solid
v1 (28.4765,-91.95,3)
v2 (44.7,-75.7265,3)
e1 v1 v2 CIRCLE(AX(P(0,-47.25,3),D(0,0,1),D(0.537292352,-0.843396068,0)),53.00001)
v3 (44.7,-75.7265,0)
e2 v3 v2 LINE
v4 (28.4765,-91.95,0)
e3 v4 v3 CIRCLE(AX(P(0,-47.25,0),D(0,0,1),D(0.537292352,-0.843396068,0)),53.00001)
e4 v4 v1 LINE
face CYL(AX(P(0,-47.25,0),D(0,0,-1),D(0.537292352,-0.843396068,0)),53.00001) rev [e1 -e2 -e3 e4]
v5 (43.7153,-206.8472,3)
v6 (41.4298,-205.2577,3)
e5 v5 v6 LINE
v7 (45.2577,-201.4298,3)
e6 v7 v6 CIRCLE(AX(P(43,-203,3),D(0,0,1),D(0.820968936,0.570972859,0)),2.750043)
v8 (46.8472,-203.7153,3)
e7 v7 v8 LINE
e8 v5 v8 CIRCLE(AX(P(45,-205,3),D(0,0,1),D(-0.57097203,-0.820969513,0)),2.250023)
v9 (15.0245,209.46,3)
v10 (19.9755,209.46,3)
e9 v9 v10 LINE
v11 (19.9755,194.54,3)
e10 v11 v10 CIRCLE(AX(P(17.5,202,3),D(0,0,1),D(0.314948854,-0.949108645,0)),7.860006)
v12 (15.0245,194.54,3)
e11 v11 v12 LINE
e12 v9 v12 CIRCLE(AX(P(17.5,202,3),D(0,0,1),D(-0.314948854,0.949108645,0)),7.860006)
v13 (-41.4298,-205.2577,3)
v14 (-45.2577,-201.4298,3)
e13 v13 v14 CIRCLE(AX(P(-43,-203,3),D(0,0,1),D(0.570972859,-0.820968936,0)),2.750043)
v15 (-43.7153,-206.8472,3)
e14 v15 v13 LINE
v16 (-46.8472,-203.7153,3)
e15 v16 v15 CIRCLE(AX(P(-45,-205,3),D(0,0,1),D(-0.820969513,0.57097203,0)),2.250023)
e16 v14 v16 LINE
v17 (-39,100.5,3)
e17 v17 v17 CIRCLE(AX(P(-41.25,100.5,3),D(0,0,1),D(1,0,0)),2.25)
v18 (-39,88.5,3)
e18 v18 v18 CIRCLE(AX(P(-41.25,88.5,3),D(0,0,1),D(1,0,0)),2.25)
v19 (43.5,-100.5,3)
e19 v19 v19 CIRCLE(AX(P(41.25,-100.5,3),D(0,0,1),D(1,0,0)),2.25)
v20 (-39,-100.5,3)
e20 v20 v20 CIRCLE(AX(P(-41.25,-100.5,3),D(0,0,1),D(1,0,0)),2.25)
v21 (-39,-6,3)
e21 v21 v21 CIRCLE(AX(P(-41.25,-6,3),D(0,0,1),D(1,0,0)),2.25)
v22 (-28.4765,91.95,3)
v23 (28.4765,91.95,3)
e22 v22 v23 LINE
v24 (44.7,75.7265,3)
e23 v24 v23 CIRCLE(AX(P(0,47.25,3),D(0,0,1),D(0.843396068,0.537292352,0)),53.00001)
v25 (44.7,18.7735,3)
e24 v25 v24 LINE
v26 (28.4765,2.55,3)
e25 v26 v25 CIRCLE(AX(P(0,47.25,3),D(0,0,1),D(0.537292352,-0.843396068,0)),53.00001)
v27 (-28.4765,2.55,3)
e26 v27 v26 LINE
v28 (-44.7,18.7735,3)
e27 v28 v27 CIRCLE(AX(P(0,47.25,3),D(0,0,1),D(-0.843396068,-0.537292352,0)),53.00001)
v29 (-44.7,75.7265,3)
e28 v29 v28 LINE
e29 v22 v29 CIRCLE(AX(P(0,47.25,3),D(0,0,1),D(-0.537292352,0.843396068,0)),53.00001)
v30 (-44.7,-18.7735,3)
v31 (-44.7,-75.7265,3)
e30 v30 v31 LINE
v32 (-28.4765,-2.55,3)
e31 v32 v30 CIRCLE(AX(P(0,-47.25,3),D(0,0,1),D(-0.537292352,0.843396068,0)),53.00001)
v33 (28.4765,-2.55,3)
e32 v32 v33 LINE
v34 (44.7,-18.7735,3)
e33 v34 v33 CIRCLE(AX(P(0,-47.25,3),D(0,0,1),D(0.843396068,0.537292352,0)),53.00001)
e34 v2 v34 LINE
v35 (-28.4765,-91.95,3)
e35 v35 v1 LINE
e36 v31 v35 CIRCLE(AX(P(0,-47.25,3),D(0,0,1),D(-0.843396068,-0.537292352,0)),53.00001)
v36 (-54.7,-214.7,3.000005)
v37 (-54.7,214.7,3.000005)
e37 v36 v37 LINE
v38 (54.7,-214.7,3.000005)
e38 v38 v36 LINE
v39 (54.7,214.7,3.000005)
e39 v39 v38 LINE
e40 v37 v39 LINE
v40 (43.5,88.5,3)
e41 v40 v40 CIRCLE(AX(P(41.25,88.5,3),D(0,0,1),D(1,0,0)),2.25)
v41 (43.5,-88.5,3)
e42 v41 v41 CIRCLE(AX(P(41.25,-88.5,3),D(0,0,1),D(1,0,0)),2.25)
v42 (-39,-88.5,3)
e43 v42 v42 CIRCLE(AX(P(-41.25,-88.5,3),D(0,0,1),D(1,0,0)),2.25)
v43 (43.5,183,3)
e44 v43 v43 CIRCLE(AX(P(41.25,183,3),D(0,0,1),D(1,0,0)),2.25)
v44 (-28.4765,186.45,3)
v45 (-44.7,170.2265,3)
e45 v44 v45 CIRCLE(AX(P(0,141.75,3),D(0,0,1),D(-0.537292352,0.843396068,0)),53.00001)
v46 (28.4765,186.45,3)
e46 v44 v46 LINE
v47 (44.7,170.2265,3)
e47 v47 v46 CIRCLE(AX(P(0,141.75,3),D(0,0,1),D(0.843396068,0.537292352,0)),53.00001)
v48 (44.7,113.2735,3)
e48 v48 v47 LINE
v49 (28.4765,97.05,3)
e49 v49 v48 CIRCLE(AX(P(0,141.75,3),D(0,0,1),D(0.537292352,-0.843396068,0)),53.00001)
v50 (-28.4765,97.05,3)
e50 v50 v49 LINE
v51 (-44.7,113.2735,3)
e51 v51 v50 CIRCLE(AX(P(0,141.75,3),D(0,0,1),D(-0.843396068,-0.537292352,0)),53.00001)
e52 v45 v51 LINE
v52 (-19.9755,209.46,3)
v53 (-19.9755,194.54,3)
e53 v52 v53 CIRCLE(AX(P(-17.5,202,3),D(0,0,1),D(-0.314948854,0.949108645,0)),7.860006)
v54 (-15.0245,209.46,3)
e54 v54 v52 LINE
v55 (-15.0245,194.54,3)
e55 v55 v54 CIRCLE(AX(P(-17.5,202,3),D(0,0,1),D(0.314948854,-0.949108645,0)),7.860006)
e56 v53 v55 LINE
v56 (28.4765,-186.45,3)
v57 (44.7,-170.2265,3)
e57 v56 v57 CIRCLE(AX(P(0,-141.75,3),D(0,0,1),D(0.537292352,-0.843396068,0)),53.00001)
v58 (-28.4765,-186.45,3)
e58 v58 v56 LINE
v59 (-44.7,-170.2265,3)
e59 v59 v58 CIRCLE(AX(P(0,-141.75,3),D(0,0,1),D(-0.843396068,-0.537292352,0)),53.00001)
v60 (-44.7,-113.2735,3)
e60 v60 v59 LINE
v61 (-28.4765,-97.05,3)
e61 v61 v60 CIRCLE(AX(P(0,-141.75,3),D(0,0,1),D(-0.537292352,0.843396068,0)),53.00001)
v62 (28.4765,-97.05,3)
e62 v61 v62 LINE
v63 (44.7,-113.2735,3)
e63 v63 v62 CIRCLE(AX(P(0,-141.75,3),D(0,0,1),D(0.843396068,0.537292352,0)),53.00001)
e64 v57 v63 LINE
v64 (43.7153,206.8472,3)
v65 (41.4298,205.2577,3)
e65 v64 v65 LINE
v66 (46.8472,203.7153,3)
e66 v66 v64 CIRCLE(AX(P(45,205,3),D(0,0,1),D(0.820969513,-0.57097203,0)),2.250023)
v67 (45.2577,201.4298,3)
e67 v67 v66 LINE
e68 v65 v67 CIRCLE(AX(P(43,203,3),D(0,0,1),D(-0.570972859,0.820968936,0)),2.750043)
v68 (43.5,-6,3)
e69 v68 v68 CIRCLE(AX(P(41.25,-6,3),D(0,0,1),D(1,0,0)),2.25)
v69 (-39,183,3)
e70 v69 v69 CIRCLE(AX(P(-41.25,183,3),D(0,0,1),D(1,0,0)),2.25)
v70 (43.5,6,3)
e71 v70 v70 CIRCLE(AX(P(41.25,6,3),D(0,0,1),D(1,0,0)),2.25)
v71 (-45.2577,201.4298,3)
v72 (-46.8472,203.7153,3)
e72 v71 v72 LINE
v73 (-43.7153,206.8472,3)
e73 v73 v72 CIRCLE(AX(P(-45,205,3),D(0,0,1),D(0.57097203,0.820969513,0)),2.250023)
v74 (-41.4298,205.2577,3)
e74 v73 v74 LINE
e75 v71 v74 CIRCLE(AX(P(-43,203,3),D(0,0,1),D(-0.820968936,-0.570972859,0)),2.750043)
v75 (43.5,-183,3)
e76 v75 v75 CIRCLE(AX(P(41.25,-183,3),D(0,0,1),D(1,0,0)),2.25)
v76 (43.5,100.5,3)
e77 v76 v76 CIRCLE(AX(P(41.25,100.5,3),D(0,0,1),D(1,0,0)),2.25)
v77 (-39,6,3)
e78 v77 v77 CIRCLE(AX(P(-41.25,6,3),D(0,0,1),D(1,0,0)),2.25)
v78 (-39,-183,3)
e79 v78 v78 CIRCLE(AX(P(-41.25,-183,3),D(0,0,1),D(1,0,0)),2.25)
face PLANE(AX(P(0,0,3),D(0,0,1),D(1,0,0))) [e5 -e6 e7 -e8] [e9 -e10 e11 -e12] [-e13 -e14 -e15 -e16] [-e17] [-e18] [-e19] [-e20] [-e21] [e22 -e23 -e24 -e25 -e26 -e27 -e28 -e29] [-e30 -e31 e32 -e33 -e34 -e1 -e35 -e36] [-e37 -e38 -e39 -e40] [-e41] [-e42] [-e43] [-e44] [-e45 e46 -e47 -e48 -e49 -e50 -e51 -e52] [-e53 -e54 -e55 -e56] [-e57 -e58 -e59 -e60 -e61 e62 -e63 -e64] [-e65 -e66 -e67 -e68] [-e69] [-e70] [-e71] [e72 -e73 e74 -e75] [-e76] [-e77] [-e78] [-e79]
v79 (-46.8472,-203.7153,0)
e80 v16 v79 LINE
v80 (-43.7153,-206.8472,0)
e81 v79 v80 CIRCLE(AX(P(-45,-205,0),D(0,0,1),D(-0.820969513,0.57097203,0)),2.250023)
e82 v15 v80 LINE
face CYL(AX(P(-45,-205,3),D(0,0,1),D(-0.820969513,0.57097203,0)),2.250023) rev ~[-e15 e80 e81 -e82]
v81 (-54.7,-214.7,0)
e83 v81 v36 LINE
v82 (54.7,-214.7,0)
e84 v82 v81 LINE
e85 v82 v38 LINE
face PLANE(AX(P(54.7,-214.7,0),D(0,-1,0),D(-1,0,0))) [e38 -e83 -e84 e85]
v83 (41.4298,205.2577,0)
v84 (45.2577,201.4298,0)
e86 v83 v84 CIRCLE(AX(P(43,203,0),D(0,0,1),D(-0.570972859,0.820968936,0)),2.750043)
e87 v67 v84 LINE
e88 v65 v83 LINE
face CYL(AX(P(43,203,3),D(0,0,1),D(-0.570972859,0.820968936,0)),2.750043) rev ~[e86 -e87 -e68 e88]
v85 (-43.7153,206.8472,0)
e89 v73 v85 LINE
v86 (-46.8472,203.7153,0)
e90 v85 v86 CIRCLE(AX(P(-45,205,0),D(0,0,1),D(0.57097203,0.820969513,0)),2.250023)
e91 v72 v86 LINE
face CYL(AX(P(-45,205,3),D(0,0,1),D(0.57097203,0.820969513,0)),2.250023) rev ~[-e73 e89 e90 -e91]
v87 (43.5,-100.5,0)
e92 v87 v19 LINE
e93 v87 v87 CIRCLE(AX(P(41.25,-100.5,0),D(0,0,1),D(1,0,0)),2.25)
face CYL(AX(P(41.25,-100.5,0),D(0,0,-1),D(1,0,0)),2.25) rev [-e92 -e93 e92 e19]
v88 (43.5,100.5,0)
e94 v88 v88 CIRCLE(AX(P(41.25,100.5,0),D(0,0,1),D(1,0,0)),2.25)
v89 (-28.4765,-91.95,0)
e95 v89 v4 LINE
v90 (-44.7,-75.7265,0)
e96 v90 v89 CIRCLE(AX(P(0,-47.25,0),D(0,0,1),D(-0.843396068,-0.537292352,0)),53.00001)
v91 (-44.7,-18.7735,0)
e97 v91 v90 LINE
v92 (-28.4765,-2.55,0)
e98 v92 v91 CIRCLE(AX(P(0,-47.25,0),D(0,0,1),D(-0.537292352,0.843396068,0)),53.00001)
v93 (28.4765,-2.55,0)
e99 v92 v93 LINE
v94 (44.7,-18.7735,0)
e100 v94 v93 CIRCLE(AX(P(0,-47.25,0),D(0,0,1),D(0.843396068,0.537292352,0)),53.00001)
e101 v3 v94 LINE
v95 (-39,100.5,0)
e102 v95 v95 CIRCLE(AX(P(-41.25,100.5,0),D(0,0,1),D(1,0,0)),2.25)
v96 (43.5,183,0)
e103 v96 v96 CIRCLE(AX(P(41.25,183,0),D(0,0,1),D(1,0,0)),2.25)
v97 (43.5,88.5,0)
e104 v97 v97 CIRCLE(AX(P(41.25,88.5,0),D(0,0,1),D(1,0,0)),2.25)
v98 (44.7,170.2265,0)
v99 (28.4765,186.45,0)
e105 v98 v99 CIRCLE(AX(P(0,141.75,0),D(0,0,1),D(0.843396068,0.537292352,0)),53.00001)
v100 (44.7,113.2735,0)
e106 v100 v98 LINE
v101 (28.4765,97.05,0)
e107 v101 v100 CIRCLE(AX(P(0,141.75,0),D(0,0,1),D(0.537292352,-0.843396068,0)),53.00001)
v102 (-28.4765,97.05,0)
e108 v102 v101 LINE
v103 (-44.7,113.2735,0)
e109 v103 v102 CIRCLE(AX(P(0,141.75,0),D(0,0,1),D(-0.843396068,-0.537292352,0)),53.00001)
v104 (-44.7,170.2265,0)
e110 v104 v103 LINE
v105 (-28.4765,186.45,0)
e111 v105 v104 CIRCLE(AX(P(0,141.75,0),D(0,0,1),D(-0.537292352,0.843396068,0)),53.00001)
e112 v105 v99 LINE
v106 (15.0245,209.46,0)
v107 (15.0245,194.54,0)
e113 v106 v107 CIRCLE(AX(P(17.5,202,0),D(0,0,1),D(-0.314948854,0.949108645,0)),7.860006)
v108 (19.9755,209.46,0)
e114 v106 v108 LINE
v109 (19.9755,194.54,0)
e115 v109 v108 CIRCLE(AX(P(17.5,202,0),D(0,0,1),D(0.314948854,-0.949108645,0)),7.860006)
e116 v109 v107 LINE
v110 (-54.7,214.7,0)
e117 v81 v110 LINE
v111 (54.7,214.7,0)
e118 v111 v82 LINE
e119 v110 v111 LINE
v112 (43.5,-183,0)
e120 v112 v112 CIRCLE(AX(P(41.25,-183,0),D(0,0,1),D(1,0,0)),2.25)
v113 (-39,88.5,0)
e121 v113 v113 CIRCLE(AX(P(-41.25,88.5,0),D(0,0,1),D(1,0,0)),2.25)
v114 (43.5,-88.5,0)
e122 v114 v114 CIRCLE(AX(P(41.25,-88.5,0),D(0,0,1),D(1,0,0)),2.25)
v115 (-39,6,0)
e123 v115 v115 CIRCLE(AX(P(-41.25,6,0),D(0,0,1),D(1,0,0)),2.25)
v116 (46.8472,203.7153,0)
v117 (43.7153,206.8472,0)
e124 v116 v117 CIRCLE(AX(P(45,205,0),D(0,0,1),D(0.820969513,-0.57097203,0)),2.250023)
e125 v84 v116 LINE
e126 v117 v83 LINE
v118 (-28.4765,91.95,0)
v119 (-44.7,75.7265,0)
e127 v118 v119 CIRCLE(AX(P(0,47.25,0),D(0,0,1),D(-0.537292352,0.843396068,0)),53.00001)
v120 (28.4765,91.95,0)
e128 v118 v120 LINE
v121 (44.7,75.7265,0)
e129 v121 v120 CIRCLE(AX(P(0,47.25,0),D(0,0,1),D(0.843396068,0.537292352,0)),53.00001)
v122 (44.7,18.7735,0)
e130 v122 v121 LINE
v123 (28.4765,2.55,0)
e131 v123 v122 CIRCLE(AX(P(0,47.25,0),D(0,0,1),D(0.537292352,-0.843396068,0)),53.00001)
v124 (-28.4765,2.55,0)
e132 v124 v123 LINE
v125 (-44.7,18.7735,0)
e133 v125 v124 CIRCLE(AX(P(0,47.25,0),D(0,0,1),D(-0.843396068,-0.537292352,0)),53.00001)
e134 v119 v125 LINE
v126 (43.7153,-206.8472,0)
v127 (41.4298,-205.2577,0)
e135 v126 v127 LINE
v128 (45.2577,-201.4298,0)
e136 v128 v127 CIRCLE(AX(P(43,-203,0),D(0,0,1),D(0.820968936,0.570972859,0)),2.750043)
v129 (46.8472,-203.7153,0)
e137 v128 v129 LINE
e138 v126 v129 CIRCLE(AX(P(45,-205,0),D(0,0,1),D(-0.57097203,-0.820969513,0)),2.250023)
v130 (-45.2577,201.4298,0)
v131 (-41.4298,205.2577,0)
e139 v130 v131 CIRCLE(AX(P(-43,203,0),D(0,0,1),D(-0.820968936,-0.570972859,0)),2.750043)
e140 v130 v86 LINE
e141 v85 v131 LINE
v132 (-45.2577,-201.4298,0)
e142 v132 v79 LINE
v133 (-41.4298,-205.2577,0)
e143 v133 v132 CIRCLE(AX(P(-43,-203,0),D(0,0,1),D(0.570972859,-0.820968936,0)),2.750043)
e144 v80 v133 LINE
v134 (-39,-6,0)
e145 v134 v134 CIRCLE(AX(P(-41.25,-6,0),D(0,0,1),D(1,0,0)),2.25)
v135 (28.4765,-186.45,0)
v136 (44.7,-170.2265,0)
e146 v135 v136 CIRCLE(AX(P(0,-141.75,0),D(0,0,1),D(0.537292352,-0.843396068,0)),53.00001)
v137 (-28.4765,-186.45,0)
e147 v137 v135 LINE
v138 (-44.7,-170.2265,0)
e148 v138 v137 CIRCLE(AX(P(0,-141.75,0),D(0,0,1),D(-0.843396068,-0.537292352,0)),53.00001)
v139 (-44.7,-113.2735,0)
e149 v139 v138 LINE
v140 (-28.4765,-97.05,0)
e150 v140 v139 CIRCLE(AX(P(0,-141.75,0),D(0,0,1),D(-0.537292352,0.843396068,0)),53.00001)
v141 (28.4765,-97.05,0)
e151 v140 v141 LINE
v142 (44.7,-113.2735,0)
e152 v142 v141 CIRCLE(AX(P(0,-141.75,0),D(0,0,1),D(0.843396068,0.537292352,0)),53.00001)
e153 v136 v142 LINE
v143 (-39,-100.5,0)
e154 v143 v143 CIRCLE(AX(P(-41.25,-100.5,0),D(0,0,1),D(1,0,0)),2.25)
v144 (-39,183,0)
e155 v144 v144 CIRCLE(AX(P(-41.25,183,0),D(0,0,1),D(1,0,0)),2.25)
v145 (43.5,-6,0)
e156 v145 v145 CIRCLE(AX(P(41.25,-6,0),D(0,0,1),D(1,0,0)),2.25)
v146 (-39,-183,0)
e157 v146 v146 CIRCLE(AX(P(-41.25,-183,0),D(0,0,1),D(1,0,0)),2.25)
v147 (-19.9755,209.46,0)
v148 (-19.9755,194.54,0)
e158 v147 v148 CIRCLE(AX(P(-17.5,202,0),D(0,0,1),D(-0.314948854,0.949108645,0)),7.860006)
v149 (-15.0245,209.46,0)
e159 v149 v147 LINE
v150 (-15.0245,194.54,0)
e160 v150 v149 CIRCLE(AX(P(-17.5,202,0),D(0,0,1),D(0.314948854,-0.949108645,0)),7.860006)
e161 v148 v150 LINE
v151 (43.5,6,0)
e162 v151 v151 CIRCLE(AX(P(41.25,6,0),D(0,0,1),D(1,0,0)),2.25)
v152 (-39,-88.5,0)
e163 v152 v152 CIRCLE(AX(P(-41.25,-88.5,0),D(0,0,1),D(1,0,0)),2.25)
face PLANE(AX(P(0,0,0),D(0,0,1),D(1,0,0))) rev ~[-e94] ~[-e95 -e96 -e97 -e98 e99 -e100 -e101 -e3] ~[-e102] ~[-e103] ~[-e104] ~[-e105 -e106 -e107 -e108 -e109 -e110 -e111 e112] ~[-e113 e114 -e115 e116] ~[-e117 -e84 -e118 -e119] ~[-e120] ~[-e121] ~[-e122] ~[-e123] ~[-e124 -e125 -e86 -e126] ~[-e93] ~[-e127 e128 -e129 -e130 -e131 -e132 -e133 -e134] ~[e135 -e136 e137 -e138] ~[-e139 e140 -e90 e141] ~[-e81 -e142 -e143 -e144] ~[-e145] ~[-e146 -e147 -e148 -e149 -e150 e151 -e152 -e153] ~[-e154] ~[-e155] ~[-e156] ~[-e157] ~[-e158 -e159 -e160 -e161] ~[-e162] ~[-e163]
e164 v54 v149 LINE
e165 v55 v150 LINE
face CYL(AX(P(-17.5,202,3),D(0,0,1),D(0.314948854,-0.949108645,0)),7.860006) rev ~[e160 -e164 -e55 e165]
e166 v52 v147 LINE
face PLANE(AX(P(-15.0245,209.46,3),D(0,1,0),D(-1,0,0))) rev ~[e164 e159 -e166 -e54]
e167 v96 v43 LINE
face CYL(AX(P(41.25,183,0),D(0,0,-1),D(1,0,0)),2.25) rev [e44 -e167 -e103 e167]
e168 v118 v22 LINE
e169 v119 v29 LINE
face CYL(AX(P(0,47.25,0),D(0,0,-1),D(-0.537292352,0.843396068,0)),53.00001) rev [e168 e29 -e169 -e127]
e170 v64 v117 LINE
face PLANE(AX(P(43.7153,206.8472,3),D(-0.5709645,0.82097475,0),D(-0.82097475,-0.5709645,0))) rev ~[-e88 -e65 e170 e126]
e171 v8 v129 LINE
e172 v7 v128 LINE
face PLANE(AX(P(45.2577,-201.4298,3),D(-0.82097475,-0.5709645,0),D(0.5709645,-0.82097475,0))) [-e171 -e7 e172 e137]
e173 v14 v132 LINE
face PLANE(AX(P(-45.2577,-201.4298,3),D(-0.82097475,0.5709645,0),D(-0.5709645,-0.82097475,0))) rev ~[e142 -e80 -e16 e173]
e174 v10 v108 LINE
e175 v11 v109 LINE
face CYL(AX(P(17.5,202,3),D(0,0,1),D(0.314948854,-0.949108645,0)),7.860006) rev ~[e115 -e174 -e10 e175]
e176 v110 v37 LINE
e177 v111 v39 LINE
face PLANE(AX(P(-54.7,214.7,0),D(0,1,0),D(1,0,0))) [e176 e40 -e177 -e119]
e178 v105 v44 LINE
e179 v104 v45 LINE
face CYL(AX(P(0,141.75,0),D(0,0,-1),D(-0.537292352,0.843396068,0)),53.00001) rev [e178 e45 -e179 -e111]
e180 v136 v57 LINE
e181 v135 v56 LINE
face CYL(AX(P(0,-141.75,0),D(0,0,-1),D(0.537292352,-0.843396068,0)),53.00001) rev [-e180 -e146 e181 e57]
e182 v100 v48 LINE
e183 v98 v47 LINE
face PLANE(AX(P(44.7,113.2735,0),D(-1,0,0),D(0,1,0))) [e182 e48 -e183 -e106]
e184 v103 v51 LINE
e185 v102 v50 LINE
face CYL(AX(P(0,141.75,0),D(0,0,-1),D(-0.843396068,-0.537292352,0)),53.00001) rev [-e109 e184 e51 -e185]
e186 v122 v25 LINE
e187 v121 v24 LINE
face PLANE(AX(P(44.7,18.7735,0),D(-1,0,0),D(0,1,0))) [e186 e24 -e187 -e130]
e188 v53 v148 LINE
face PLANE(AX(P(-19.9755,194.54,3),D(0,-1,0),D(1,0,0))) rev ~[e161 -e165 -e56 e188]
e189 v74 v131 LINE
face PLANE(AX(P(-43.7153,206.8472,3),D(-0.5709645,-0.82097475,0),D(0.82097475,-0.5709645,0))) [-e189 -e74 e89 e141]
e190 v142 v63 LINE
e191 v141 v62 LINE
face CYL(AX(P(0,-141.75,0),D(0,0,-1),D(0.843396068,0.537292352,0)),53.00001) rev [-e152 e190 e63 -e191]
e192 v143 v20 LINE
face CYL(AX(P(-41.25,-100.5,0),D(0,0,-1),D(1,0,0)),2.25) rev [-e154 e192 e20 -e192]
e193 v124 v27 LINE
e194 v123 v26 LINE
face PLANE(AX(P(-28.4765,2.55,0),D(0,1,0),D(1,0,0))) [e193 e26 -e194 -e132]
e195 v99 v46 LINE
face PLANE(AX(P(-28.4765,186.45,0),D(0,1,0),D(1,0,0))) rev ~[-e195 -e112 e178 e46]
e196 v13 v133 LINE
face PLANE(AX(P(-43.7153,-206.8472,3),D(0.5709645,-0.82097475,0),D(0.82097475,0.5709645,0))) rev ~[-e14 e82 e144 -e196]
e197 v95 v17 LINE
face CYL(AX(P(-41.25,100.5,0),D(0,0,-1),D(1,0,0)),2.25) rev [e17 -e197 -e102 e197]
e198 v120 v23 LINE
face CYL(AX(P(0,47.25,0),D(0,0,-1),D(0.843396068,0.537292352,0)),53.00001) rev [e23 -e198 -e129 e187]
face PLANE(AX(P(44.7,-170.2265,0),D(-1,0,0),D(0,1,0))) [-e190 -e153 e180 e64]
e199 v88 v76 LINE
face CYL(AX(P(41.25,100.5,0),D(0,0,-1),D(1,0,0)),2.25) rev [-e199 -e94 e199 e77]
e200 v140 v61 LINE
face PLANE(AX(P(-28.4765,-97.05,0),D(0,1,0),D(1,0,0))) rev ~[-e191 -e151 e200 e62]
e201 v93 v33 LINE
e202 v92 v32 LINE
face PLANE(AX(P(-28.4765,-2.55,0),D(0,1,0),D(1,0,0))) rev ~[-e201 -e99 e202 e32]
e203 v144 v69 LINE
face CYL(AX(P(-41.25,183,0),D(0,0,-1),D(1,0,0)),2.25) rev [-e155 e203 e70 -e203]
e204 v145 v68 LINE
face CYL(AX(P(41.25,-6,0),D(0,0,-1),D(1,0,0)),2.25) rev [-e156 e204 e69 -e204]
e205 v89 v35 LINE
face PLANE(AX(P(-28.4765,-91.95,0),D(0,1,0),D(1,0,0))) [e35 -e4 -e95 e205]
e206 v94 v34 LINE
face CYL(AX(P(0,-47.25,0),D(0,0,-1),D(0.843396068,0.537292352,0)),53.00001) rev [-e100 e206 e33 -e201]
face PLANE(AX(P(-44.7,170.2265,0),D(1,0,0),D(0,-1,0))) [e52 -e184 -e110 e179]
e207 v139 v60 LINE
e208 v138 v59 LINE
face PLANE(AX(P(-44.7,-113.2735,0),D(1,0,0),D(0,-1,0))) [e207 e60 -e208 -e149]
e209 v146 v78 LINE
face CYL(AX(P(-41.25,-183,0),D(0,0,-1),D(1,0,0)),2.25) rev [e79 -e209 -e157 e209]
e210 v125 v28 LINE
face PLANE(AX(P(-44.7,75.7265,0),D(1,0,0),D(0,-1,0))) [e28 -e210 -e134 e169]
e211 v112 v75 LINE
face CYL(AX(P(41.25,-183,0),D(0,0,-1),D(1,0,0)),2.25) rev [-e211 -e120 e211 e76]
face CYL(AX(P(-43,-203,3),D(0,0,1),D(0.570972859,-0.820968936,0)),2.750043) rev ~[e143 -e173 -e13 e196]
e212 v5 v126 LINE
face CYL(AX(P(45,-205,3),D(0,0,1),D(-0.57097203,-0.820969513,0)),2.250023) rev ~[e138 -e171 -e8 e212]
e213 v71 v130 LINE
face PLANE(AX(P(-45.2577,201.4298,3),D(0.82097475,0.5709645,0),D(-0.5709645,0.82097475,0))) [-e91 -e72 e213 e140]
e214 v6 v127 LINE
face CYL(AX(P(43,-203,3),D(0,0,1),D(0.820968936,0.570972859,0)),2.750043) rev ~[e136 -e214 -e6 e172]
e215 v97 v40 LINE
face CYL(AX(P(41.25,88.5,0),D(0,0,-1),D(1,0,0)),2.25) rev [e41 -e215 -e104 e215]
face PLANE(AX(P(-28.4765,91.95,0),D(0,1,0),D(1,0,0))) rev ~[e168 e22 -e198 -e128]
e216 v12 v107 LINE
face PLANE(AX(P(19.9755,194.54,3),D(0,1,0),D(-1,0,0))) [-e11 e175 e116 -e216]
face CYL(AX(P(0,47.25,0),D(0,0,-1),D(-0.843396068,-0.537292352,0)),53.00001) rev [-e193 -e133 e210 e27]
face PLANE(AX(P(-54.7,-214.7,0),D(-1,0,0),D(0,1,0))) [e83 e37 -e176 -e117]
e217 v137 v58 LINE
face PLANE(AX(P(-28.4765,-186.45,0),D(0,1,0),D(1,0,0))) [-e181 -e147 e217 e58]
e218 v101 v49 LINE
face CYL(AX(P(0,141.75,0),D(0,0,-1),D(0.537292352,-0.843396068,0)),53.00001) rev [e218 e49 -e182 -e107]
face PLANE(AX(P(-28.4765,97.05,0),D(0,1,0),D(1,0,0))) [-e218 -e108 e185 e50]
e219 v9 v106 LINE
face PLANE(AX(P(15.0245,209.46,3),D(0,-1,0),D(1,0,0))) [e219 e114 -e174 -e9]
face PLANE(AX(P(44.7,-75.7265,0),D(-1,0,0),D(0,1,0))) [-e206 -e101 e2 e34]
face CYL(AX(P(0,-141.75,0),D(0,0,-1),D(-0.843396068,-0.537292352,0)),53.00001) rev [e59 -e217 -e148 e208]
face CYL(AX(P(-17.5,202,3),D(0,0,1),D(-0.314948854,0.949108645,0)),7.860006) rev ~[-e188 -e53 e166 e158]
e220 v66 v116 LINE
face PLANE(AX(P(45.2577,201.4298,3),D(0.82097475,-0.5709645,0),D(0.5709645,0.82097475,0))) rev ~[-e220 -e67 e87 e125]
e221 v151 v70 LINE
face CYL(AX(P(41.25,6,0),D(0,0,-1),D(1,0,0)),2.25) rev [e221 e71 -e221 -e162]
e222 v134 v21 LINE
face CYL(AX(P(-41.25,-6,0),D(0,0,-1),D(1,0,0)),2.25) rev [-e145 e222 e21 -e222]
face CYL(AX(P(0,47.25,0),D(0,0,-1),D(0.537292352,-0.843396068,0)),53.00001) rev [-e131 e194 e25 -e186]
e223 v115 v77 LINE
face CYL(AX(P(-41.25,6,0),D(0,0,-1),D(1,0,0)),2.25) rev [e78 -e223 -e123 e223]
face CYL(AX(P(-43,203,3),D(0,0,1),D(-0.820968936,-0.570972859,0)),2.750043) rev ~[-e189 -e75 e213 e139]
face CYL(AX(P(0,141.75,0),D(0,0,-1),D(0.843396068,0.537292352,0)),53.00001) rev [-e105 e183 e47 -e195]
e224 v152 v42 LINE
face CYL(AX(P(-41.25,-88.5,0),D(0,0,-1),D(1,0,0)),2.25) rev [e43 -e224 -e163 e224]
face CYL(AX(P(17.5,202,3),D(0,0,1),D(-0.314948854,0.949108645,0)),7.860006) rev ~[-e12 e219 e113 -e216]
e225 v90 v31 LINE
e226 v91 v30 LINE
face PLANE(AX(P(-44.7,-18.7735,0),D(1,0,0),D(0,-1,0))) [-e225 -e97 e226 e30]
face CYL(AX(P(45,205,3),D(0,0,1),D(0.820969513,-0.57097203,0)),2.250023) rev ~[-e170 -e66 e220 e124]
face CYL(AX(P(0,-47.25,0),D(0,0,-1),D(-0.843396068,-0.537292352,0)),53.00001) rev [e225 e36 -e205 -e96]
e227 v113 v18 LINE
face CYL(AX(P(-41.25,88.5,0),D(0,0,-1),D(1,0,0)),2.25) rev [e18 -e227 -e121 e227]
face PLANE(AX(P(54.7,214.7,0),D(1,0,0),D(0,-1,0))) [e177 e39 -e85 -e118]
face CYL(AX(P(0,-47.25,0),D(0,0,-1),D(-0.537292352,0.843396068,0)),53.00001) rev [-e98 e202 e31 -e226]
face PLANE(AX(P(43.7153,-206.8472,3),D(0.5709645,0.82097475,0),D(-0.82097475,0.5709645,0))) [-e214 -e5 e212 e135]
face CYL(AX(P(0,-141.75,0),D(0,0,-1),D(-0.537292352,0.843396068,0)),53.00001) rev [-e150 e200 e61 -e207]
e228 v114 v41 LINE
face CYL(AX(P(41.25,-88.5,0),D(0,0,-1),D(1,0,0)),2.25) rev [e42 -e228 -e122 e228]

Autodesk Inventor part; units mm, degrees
ref_plane "YZ Plane" through (0, 0, 0) normal (1, 0, 0) x (0, 1, 0)
ref_plane "XZ Plane" through (0, 0, 0) normal (0, 1, 0) x (-1, 0, 0)
ref_plane "XY Plane" through (0, 0, 0) normal (0, 0, 1) x (1, 0, 0)
sketch "スケッチ1" plane through (0, 0, 0) normal (0, 0, 1) x (1, 0, 0)
  line L0 (-55, -215) -> (55, -215)
  line L1 (55, -215) -> (55, 215)
  line L2 (55, 215) -> (-55, 215)
  line L3 (-55, 215) -> (-55, -215)
  line L4 (-55, -215) -> (55, 215) construction
  line L5 (55, -215) -> (-55, 215) construction
  line L6 (-55, 185) -> (-50, 185) construction
  line L7 (-50, 185) -> (-25, 210) construction
  line L8 (-25, 210) -> (-25, 215) construction
  line L9 (-46, 95.75) -> (46, 95.75) construction
  line L10 (46, 95.75) -> (46, 187.75) construction
  line L11 (46, 187.75) -> (-46, 187.75) construction
  line L12 (-46, 187.75) -> (-46, 95.75) construction
  line L13 (-46, 95.75) -> (46, 187.75) construction
  line L14 (46, 95.75) -> (-46, 187.75) construction
  line L15 (-46, 1.25) -> (46, 1.25) construction
  line L16 (46, 1.25) -> (46, 93.25) construction
  line L17 (46, 93.25) -> (-46, 93.25) construction
  line L18 (-46, 93.25) -> (-46, 1.25) construction
  line L19 (-46, 1.25) -> (46, 93.25) construction
  line L20 (46, 1.25) -> (-46, 93.25) construction
  line L21 (0, 0) -> (0, 141.75) construction
  circle A0 centre (0, 141.75) radius 53 construction
  line L22 (-44.7, 97.05) -> (44.7, 97.05) construction
  line L23 (44.7, 97.05) -> (44.7, 186.45) construction
  line L24 (44.7, 186.45) -> (-44.7, 186.45) construction
  line L25 (-44.7, 186.45) -> (-44.7, 97.05) construction
  line L26 (-44.7, 97.05) -> (44.7, 186.45) construction
  line L27 (44.7, 97.05) -> (-44.7, 186.45) construction
  arc A1 (-28.4765, 186.45) -> (-44.7, 170.2265) centre (0, 141.75) ccw
  arc A2 (-44.7, 113.2735) -> (-28.4765, 97.05) centre (0, 141.75) ccw
  arc A3 (28.4765, 97.05) -> (44.7, 113.2735) centre (0, 141.75) ccw
  arc A4 (44.7, 170.2265) -> (28.4765, 186.45) centre (0, 141.75) ccw
  line L28 (-28.4765, 186.45) -> (28.4765, 186.45)
  line L29 (-44.7, 170.2265) -> (-44.7, 113.2735)
  line L30 (-28.4765, 97.05) -> (28.4765, 97.05)
  line L31 (44.7, 113.2735) -> (44.7, 170.2265)
  line L32 (-41.25, 100.5) -> (41.25, 100.5) construction
  line L33 (41.25, 100.5) -> (41.25, 183) construction
  line L34 (41.25, 183) -> (-41.25, 183) construction
  line L35 (-41.25, 183) -> (-41.25, 100.5) construction
  line L36 (-41.25, 100.5) -> (41.25, 183) construction
  line L37 (41.25, 100.5) -> (-41.25, 183) construction
  circle A5 centre (-41.25, 183) radius 2.25
  circle A6 centre (-41.25, 100.5) radius 2.25
  circle A7 centre (41.25, 100.5) radius 2.25
  circle A8 centre (41.25, 183) radius 2.25
  circle A9 centre (-41.25, 88.5) radius 2.25
  arc A10 (-28.4765, 91.95) -> (-44.7, 75.7265) centre (0, 47.25) ccw
  line L38 (-28.4765, 91.95) -> (28.4765, 91.95)
  arc A11 (44.7, 75.7265) -> (28.4765, 91.95) centre (0, 47.25) ccw
  circle A12 centre (41.25, 88.5) radius 2.25
  line L39 (44.7, 18.7735) -> (44.7, 75.7265)
  arc A13 (28.4765, 2.55) -> (44.7, 18.7735) centre (0, 47.25) ccw
  circle A14 centre (41.25, 6) radius 2.25
  line L40 (-28.4765, 2.55) -> (28.4765, 2.55)
  circle A15 centre (-41.25, 6) radius 2.25
  arc A16 (-44.7, 18.7735) -> (-28.4765, 2.55) centre (0, 47.25) ccw
  line L41 (-44.7, 75.7265) -> (-44.7, 18.7735)
  circle A17 centre (-41.25, -6) radius 2.25
  arc A18 (-28.4765, -2.55) -> (-44.7, -18.7735) centre (0, -47.25) ccw
  line L42 (-28.4765, -2.55) -> (28.4765, -2.55)
  arc A19 (44.7, -18.7735) -> (28.4765, -2.55) centre (0, -47.25) ccw
  circle A20 centre (41.25, -6) radius 2.25
  line L43 (44.7, -75.7265) -> (44.7, -18.7735)
  arc A21 (28.4765, -91.95) -> (44.7, -75.7265) centre (0, -47.25) ccw
  circle A22 centre (41.25, -88.5) radius 2.25
  line L44 (-28.4765, -91.95) -> (28.4765, -91.95)
  circle A23 centre (-41.25, -88.5) radius 2.25
  arc A24 (-44.7, -75.7265) -> (-28.4765, -91.95) centre (0, -47.25) ccw
  line L45 (-44.7, -18.7735) -> (-44.7, -75.7265)
  circle A25 centre (-41.25, -100.5) radius 2.25
  arc A26 (-28.4765, -97.05) -> (-44.7, -113.2735) centre (0, -141.75) ccw
  line L46 (-28.4765, -97.05) -> (28.4765, -97.05)
  arc A27 (44.7, -113.2735) -> (28.4765, -97.05) centre (0, -141.75) ccw
  circle A28 centre (41.25, -100.5) radius 2.25
  line L47 (44.7, -170.2265) -> (44.7, -113.2735)
  arc A29 (28.4765, -186.45) -> (44.7, -170.2265) centre (0, -141.75) ccw
  circle A30 centre (41.25, -183) radius 2.25
  line L48 (-28.4765, -186.45) -> (28.4765, -186.45)
  circle A31 centre (-41.25, -183) radius 2.25
  arc A32 (-44.7, -170.2265) -> (-28.4765, -186.45) centre (0, -141.75) ccw
  line L49 (-44.7, -113.2735) -> (-44.7, -170.2265)
  circle A33 centre (-45, 205) radius 2.25
  circle A34 centre (45, 205) radius 2.25
  circle A35 centre (45, -205) radius 2.25
  circle A36 centre (-45, -205) radius 2.25
  circle A37 centre (-45, 0) radius 2.25
  circle A38 centre (45, 0) radius 2.25
  line L50 (-55, 0) -> (55, 0) construction
  point P0 (0, 47.25)
  point P1 (0, 47.25)
  dimension "d12" = 106
  dimension "d0" = 110
  dimension "d1" = 430
  dimension "d2" = 135
  dimension "d3" = 30
  dimension "d4" = 30
  dimension "d5" = 5
  dimension "d6" = 92
  dimension "d7" = 92
  dimension "d8" = 92
  dimension "d9" = 92
  dimension "d10" = 2.5
  dimension "d11" = 1.25
  dimension "d13" = 89.4
  dimension "d14" = 89.4
  dimension "d15" = 82.5
  dimension "d16" = 82.5
  dimension "d17" = 4.5
  dimension "d20" = 94.5
  dimension "d25" = 4.5
  dimension "d26" = 10
  dimension "d27" = 10
  dimension "d28" = 10
  dimension "d29" = 10
  dimension "d30" = 10
  dimension "d31" = 10
  dimension "d32" = 10
  dimension "d33" = 10
  dimension "d34" = 10
  dimension "d35" = 10
extrude "押し出し1" add sketch "スケッチ1" along normal blind 3 contours L3 L2 L1 L0 | A37 | A38
sketch "スケッチ2" plane through (0, 0, 3) normal (0, 0, 1) x (1, 0, 0)
  circle A0 centre (-45, 205) radius 2.25 construction
  circle A1 centre (45, -205) radius 2.25 construction
  circle A2 centre (-45, -205) radius 2.25 construction
  circle A3 centre (-43, 203) radius 2.75 construction
  line L0 (55, 215) -> (-55, 215) projected
  line L1 (-55, 215) -> (-55, -215) projected
  line L2 (-43.7153, 206.8472) -> (-41.4298, 205.2577)
  line L3 (-45.2577, 201.4298) -> (-46.8472, 203.7153)
  circle A4 centre (-45, 205) radius 2.25 construction
  arc A5 (-43.7153, 206.8472) -> (-46.8472, 203.7153) centre (-45, 205) ccw
  arc A6 (-45.2577, 201.4298) -> (-41.4298, 205.2577) centre (-43, 203) ccw
  line L4 (55, 215) -> (-55, 215) construction
  line L5 (0, 215) -> (0, -215) construction
  line L6 (-55, -215) -> (55, -215) construction
  line L7 (-55, 0) -> (55, 0) construction
  line L8 (55, -215) -> (55, 215) construction
  circle A7 centre (45, 205) radius 2.25 construction
  circle A8 centre (43, 203) radius 2.75 construction
  line L9 (43.7153, 206.8472) -> (41.4298, 205.2577)
  line L10 (45.2577, 201.4298) -> (46.8472, 203.7153)
  circle A9 centre (45, 205) radius 2.25 construction
  arc A10 (46.8472, 203.7153) -> (43.7153, 206.8472) centre (45, 205) ccw
  arc A11 (41.4298, 205.2577) -> (45.2577, 201.4298) centre (43, 203) ccw
  circle A12 centre (-45, -205) radius 2.25 construction
  circle A13 centre (-43, -203) radius 2.75 construction
  line L11 (-43.7153, -206.8472) -> (-41.4298, -205.2577)
  line L12 (-45.2577, -201.4298) -> (-46.8472, -203.7153)
  circle A14 centre (-45, -205) radius 2.25 construction
  arc A15 (-46.8472, -203.7153) -> (-43.7153, -206.8472) centre (-45, -205) ccw
  arc A16 (-41.4298, -205.2577) -> (-45.2577, -201.4298) centre (-43, -203) ccw
  circle A17 centre (45, -205) radius 2.25 construction
  line L13 (45.2577, -201.4298) -> (46.8472, -203.7153)
  arc A18 (45.2577, -201.4298) -> (41.4298, -205.2577) centre (43, -203) ccw
  circle A19 centre (43, -203) radius 2.75 construction
  line L14 (43.7153, -206.8472) -> (41.4298, -205.2577)
  circle A20 centre (45, -205) radius 2.25 construction
  arc A21 (43.7153, -206.8472) -> (46.8472, -203.7153) centre (45, -205) ccw
  point P0 (0, 0)
  dimension "d38" = 5.5
  dimension "d39" = 12
  dimension "d40" = 12
extrude "押し出し2" cut sketch "スケッチ2" against normal through all
sketch "スケッチ4" plane through (0, 0, 3) normal (0, 0, 1) x (1, 0, 0)
  line L0 (55, 215) -> (-55, 215) construction
  line L1 (-28.4765, 186.45) -> (28.4765, 186.45) construction
  line L2 (55, 215) -> (-55, 215) construction
  line L3 (0, 215) -> (0, 186.45) construction
  arc A0 (-19.9739, 209.45) -> (-19.9739, 194.55) centre (-17.5, 202) ccw construction
  line L4 (-19.9739, 209.45) -> (-15.0261, 209.45) construction
  line L5 (-15.0261, 194.55) -> (-19.9739, 194.55) construction
  arc A1 (-15.0261, 209.45) -> (-19.9739, 209.45) centre (-17.5, 202) ccw construction
  arc A2 (-15.0261, 194.55) -> (-15.0261, 209.45) centre (-17.5, 202) ccw construction
  arc A3 (-19.9739, 194.55) -> (-15.0261, 194.55) centre (-17.5, 202) ccw construction
  line L6 (-19.9755, 194.54) -> (-15.0245, 194.54)
  arc A4 (-15.0245, 194.54) -> (-15.0245, 209.46) centre (-17.5, 202) ccw
  line L7 (-15.0245, 209.46) -> (-19.9755, 209.46)
  arc A5 (-19.9755, 209.46) -> (-19.9755, 194.54) centre (-17.5, 202) ccw
  line L8 (-25, 215) -> (-25, 210) construction
  line L9 (-25, 210) -> (-50, 185) construction
  line L10 (-50, 185) -> (-55, 185) construction
  line L11 (-55, 215) -> (-55, -215) construction
  line L12 (19.9755, 194.54) -> (15.0245, 194.54)
  line L13 (15.0245, 209.46) -> (19.9755, 209.46)
  arc A6 (15.0245, 209.46) -> (15.0245, 194.54) centre (17.5, 202) ccw
  arc A7 (19.9755, 194.54) -> (19.9755, 209.46) centre (17.5, 202) ccw
  point P0 (0, 0)
  dimension "d46" = 15.7
  dimension "d47" = 14.9
  dimension "d48" = 0.01
  dimension "d49" = 13
  dimension "d50" = 17.5
  dimension "d51" = 135
  dimension "d52" = 30
  dimension "d53" = 5
extrude "押し出し4" cut sketch "スケッチ4" against normal through all
sketch "スケッチ3" plane through (0, 0, 0) normal (0, 0, -1) x (-1, 0, 0)
  line L0 (-55, 215) -> (55, 215) construction
  line L1 (-55, -215) -> (-55, 215) construction
  line L2 (55, -215) -> (-55, -215) construction
  line L3 (55, 215) -> (55, -215) construction
  line L4 (54.7, 214.7) -> (-54.7, 214.7)
  line L5 (-54.7, 214.7) -> (-54.7, -214.7)
  line L6 (-54.7, -214.7) -> (54.7, -214.7)
  line L7 (54.7, -214.7) -> (54.7, 214.7)
  point P0 (0, 0)
  dimension "d43" = 0.3
extrude "押し出し3" cut sketch "スケッチ3" against normal through all keep common part
sketch "Sketch5" plane through (0, 0, 3) normal (0, 0, 1) x (1, 0, 0)
  line L0 (-41.4298, -205.2577) -> (-43.7153, -206.8472) projected
  arc A0 (-46.8472, -203.7153) -> (-43.7153, -206.8472) centre (-45, -205) ccw projected
  line L1 (-46.8472, -203.7153) -> (-45.2577, -201.4298) projected
  arc A1 (-41.4298, -205.2577) -> (-45.2577, -201.4298) centre (-43, -203) ccw projected
  line L2 (-45.2577, 201.4298) -> (-46.8472, 203.7153) projected
  arc A2 (-43.7153, 206.8472) -> (-46.8472, 203.7153) centre (-45, 205) ccw projected
  line L3 (-43.7153, 206.8472) -> (-41.4298, 205.2577) projected
  arc A3 (-45.2577, 201.4298) -> (-41.4298, 205.2577) centre (-43, 203) ccw projected
  line L4 (41.4298, 205.2577) -> (43.7153, 206.8472) projected
  arc A4 (46.8472, 203.7153) -> (43.7153, 206.8472) centre (45, 205) ccw projected
  line L5 (46.8472, 203.7153) -> (45.2577, 201.4298) projected
  arc A5 (41.4298, 205.2577) -> (45.2577, 201.4298) centre (43, 203) ccw projected
  line L6 (-28.4765, -97.05) -> (28.4765, -97.05) projected
  arc A6 (44.7, -113.2735) -> (28.4765, -97.05) centre (0, -141.75) ccw projected
  line L7 (44.7, -113.2735) -> (44.7, -170.2265) projected
  arc A7 (28.4765, -186.45) -> (44.7, -170.2265) centre (0, -141.75) ccw projected
  line L8 (28.4765, -186.45) -> (-28.4765, -186.45) projected
  arc A8 (-44.7, -170.2265) -> (-28.4765, -186.45) centre (0, -141.75) ccw projected
  line L9 (-44.7, -170.2265) -> (-44.7, -113.2735) projected
  arc A9 (-28.4765, -97.05) -> (-44.7, -113.2735) centre (0, -141.75) ccw projected
  line L10 (-28.4765, -2.55) -> (28.4765, -2.55) projected
  arc A10 (44.7, -18.7735) -> (28.4765, -2.55) centre (0, -47.25) ccw projected
  line L11 (44.7, -18.7735) -> (44.7, -75.7265) projected
  arc A11 (28.4765, -91.95) -> (44.7, -75.7265) centre (0, -47.25) ccw projected
  line L12 (28.4765, -91.95) -> (-28.4765, -91.95) projected
  arc A12 (-44.7, -75.7265) -> (-28.4765, -91.95) centre (0, -47.25) ccw projected
  line L13 (-44.7, -75.7265) -> (-44.7, -18.7735) projected
  arc A13 (-28.4765, -2.55) -> (-44.7, -18.7735) centre (0, -47.25) ccw projected
  line L14 (-28.4765, 91.95) -> (28.4765, 91.95) projected
  arc A14 (44.7, 75.7265) -> (28.4765, 91.95) centre (0, 47.25) ccw projected
  line L15 (44.7, 75.7265) -> (44.7, 18.7735) projected
  arc A15 (28.4765, 2.55) -> (44.7, 18.7735) centre (0, 47.25) ccw projected
  line L16 (28.4765, 2.55) -> (-28.4765, 2.55) projected
  arc A16 (-44.7, 18.7735) -> (-28.4765, 2.55) centre (0, 47.25) ccw projected
  line L17 (-44.7, 18.7735) -> (-44.7, 75.7265) projected
  arc A17 (-28.4765, 91.95) -> (-44.7, 75.7265) centre (0, 47.25) ccw projected
  line L18 (-28.4765, 186.45) -> (28.4765, 186.45) projected
  arc A18 (44.7, 170.2265) -> (28.4765, 186.45) centre (0, 141.75) ccw projected
  line L19 (44.7, 170.2265) -> (44.7, 113.2735) projected
  arc A19 (28.4765, 97.05) -> (44.7, 113.2735) centre (0, 141.75) ccw projected
  line L20 (28.4765, 97.05) -> (-28.4765, 97.05) projected
  arc A20 (-44.7, 113.2735) -> (-28.4765, 97.05) centre (0, 141.75) ccw projected
  line L21 (-44.7, 113.2735) -> (-44.7, 170.2265) projected
  arc A21 (-28.4765, 186.45) -> (-44.7, 170.2265) centre (0, 141.75) ccw projected
  line L22 (43.7153, -206.8472) -> (41.4298, -205.2577) projected
  arc A22 (45.2577, -201.4298) -> (41.4298, -205.2577) centre (43, -203) ccw projected
  line L23 (45.2577, -201.4298) -> (46.8472, -203.7153) projected
  arc A23 (43.7153, -206.8472) -> (46.8472, -203.7153) centre (45, -205) ccw projected
  circle A24 centre (-41.25, -183) radius 2.25 projected
  circle A25 centre (41.25, -183) radius 2.25 projected
  circle A26 centre (41.25, -100.5) radius 2.25 projected
  circle A27 centre (-41.25, -100.5) radius 2.25 projected
  circle A28 centre (-41.25, -88.5) radius 2.25 projected
  circle A29 centre (41.25, -88.5) radius 2.25 projected
  circle A30 centre (41.25, -6) radius 2.25 projected
  circle A31 centre (-41.25, -6) radius 2.25 projected
  circle A32 centre (-41.25, 6) radius 2.25 projected
  circle A33 centre (41.25, 6) radius 2.25 projected
  circle A34 centre (41.25, 88.5) radius 2.25 projected
  circle A35 centre (-41.25, 88.5) radius 2.25 projected
  circle A36 centre (41.25, 183) radius 2.25 projected
  circle A37 centre (41.25, 100.5) radius 2.25 projected
  circle A38 centre (-41.25, 100.5) radius 2.25 projected
  circle A39 centre (-41.25, 183) radius 2.25 projected
  arc A40 (15.0245, 209.46) -> (15.0245, 194.54) centre (17.5, 202) ccw projected
  line L24 (15.0245, 209.46) -> (19.9755, 209.46) projected
  arc A41 (19.9755, 194.54) -> (19.9755, 209.46) centre (17.5, 202) ccw projected
  line L25 (19.9755, 194.54) -> (15.0245, 194.54) projected
  arc A42 (-15.0245, 194.54) -> (-15.0245, 209.46) centre (-17.5, 202) ccw projected
  line L26 (-15.0245, 194.54) -> (-19.9755, 194.54) projected
  arc A43 (-19.9755, 209.46) -> (-19.9755, 194.54) centre (-17.5, 202) ccw projected
  line L27 (-19.9755, 209.46) -> (-15.0245, 209.46) projected
  line L28 (54.7, 214.7) -> (54.7, -214.7) projected
  line L29 (-54.7, 214.7) -> (54.7, 214.7) projected
  line L30 (-54.7, -214.7) -> (-54.7, 214.7) projected
  line L31 (54.7, -214.7) -> (-54.7, -214.7) projected
  point P0 (0, 0)
equation "\"d4\" = d3"
equation "\"d11\" = 0.5 * d10"
equation "\"d20\" = d7 + d10"
equation "\"d27\" = d26"
equation "\"d28\" = d26"
equation "\"d29\" = d26"
equation "\"d30\" = d26"
equation "\"d31\" = d26"
equation "\"d32\" = d26"
equation "\"d33\" = d26"
equation "\"d34\" = d26"
equation "\"d35\" = d26"
properties part number "front_panel" material "アルミニウム 6061"
